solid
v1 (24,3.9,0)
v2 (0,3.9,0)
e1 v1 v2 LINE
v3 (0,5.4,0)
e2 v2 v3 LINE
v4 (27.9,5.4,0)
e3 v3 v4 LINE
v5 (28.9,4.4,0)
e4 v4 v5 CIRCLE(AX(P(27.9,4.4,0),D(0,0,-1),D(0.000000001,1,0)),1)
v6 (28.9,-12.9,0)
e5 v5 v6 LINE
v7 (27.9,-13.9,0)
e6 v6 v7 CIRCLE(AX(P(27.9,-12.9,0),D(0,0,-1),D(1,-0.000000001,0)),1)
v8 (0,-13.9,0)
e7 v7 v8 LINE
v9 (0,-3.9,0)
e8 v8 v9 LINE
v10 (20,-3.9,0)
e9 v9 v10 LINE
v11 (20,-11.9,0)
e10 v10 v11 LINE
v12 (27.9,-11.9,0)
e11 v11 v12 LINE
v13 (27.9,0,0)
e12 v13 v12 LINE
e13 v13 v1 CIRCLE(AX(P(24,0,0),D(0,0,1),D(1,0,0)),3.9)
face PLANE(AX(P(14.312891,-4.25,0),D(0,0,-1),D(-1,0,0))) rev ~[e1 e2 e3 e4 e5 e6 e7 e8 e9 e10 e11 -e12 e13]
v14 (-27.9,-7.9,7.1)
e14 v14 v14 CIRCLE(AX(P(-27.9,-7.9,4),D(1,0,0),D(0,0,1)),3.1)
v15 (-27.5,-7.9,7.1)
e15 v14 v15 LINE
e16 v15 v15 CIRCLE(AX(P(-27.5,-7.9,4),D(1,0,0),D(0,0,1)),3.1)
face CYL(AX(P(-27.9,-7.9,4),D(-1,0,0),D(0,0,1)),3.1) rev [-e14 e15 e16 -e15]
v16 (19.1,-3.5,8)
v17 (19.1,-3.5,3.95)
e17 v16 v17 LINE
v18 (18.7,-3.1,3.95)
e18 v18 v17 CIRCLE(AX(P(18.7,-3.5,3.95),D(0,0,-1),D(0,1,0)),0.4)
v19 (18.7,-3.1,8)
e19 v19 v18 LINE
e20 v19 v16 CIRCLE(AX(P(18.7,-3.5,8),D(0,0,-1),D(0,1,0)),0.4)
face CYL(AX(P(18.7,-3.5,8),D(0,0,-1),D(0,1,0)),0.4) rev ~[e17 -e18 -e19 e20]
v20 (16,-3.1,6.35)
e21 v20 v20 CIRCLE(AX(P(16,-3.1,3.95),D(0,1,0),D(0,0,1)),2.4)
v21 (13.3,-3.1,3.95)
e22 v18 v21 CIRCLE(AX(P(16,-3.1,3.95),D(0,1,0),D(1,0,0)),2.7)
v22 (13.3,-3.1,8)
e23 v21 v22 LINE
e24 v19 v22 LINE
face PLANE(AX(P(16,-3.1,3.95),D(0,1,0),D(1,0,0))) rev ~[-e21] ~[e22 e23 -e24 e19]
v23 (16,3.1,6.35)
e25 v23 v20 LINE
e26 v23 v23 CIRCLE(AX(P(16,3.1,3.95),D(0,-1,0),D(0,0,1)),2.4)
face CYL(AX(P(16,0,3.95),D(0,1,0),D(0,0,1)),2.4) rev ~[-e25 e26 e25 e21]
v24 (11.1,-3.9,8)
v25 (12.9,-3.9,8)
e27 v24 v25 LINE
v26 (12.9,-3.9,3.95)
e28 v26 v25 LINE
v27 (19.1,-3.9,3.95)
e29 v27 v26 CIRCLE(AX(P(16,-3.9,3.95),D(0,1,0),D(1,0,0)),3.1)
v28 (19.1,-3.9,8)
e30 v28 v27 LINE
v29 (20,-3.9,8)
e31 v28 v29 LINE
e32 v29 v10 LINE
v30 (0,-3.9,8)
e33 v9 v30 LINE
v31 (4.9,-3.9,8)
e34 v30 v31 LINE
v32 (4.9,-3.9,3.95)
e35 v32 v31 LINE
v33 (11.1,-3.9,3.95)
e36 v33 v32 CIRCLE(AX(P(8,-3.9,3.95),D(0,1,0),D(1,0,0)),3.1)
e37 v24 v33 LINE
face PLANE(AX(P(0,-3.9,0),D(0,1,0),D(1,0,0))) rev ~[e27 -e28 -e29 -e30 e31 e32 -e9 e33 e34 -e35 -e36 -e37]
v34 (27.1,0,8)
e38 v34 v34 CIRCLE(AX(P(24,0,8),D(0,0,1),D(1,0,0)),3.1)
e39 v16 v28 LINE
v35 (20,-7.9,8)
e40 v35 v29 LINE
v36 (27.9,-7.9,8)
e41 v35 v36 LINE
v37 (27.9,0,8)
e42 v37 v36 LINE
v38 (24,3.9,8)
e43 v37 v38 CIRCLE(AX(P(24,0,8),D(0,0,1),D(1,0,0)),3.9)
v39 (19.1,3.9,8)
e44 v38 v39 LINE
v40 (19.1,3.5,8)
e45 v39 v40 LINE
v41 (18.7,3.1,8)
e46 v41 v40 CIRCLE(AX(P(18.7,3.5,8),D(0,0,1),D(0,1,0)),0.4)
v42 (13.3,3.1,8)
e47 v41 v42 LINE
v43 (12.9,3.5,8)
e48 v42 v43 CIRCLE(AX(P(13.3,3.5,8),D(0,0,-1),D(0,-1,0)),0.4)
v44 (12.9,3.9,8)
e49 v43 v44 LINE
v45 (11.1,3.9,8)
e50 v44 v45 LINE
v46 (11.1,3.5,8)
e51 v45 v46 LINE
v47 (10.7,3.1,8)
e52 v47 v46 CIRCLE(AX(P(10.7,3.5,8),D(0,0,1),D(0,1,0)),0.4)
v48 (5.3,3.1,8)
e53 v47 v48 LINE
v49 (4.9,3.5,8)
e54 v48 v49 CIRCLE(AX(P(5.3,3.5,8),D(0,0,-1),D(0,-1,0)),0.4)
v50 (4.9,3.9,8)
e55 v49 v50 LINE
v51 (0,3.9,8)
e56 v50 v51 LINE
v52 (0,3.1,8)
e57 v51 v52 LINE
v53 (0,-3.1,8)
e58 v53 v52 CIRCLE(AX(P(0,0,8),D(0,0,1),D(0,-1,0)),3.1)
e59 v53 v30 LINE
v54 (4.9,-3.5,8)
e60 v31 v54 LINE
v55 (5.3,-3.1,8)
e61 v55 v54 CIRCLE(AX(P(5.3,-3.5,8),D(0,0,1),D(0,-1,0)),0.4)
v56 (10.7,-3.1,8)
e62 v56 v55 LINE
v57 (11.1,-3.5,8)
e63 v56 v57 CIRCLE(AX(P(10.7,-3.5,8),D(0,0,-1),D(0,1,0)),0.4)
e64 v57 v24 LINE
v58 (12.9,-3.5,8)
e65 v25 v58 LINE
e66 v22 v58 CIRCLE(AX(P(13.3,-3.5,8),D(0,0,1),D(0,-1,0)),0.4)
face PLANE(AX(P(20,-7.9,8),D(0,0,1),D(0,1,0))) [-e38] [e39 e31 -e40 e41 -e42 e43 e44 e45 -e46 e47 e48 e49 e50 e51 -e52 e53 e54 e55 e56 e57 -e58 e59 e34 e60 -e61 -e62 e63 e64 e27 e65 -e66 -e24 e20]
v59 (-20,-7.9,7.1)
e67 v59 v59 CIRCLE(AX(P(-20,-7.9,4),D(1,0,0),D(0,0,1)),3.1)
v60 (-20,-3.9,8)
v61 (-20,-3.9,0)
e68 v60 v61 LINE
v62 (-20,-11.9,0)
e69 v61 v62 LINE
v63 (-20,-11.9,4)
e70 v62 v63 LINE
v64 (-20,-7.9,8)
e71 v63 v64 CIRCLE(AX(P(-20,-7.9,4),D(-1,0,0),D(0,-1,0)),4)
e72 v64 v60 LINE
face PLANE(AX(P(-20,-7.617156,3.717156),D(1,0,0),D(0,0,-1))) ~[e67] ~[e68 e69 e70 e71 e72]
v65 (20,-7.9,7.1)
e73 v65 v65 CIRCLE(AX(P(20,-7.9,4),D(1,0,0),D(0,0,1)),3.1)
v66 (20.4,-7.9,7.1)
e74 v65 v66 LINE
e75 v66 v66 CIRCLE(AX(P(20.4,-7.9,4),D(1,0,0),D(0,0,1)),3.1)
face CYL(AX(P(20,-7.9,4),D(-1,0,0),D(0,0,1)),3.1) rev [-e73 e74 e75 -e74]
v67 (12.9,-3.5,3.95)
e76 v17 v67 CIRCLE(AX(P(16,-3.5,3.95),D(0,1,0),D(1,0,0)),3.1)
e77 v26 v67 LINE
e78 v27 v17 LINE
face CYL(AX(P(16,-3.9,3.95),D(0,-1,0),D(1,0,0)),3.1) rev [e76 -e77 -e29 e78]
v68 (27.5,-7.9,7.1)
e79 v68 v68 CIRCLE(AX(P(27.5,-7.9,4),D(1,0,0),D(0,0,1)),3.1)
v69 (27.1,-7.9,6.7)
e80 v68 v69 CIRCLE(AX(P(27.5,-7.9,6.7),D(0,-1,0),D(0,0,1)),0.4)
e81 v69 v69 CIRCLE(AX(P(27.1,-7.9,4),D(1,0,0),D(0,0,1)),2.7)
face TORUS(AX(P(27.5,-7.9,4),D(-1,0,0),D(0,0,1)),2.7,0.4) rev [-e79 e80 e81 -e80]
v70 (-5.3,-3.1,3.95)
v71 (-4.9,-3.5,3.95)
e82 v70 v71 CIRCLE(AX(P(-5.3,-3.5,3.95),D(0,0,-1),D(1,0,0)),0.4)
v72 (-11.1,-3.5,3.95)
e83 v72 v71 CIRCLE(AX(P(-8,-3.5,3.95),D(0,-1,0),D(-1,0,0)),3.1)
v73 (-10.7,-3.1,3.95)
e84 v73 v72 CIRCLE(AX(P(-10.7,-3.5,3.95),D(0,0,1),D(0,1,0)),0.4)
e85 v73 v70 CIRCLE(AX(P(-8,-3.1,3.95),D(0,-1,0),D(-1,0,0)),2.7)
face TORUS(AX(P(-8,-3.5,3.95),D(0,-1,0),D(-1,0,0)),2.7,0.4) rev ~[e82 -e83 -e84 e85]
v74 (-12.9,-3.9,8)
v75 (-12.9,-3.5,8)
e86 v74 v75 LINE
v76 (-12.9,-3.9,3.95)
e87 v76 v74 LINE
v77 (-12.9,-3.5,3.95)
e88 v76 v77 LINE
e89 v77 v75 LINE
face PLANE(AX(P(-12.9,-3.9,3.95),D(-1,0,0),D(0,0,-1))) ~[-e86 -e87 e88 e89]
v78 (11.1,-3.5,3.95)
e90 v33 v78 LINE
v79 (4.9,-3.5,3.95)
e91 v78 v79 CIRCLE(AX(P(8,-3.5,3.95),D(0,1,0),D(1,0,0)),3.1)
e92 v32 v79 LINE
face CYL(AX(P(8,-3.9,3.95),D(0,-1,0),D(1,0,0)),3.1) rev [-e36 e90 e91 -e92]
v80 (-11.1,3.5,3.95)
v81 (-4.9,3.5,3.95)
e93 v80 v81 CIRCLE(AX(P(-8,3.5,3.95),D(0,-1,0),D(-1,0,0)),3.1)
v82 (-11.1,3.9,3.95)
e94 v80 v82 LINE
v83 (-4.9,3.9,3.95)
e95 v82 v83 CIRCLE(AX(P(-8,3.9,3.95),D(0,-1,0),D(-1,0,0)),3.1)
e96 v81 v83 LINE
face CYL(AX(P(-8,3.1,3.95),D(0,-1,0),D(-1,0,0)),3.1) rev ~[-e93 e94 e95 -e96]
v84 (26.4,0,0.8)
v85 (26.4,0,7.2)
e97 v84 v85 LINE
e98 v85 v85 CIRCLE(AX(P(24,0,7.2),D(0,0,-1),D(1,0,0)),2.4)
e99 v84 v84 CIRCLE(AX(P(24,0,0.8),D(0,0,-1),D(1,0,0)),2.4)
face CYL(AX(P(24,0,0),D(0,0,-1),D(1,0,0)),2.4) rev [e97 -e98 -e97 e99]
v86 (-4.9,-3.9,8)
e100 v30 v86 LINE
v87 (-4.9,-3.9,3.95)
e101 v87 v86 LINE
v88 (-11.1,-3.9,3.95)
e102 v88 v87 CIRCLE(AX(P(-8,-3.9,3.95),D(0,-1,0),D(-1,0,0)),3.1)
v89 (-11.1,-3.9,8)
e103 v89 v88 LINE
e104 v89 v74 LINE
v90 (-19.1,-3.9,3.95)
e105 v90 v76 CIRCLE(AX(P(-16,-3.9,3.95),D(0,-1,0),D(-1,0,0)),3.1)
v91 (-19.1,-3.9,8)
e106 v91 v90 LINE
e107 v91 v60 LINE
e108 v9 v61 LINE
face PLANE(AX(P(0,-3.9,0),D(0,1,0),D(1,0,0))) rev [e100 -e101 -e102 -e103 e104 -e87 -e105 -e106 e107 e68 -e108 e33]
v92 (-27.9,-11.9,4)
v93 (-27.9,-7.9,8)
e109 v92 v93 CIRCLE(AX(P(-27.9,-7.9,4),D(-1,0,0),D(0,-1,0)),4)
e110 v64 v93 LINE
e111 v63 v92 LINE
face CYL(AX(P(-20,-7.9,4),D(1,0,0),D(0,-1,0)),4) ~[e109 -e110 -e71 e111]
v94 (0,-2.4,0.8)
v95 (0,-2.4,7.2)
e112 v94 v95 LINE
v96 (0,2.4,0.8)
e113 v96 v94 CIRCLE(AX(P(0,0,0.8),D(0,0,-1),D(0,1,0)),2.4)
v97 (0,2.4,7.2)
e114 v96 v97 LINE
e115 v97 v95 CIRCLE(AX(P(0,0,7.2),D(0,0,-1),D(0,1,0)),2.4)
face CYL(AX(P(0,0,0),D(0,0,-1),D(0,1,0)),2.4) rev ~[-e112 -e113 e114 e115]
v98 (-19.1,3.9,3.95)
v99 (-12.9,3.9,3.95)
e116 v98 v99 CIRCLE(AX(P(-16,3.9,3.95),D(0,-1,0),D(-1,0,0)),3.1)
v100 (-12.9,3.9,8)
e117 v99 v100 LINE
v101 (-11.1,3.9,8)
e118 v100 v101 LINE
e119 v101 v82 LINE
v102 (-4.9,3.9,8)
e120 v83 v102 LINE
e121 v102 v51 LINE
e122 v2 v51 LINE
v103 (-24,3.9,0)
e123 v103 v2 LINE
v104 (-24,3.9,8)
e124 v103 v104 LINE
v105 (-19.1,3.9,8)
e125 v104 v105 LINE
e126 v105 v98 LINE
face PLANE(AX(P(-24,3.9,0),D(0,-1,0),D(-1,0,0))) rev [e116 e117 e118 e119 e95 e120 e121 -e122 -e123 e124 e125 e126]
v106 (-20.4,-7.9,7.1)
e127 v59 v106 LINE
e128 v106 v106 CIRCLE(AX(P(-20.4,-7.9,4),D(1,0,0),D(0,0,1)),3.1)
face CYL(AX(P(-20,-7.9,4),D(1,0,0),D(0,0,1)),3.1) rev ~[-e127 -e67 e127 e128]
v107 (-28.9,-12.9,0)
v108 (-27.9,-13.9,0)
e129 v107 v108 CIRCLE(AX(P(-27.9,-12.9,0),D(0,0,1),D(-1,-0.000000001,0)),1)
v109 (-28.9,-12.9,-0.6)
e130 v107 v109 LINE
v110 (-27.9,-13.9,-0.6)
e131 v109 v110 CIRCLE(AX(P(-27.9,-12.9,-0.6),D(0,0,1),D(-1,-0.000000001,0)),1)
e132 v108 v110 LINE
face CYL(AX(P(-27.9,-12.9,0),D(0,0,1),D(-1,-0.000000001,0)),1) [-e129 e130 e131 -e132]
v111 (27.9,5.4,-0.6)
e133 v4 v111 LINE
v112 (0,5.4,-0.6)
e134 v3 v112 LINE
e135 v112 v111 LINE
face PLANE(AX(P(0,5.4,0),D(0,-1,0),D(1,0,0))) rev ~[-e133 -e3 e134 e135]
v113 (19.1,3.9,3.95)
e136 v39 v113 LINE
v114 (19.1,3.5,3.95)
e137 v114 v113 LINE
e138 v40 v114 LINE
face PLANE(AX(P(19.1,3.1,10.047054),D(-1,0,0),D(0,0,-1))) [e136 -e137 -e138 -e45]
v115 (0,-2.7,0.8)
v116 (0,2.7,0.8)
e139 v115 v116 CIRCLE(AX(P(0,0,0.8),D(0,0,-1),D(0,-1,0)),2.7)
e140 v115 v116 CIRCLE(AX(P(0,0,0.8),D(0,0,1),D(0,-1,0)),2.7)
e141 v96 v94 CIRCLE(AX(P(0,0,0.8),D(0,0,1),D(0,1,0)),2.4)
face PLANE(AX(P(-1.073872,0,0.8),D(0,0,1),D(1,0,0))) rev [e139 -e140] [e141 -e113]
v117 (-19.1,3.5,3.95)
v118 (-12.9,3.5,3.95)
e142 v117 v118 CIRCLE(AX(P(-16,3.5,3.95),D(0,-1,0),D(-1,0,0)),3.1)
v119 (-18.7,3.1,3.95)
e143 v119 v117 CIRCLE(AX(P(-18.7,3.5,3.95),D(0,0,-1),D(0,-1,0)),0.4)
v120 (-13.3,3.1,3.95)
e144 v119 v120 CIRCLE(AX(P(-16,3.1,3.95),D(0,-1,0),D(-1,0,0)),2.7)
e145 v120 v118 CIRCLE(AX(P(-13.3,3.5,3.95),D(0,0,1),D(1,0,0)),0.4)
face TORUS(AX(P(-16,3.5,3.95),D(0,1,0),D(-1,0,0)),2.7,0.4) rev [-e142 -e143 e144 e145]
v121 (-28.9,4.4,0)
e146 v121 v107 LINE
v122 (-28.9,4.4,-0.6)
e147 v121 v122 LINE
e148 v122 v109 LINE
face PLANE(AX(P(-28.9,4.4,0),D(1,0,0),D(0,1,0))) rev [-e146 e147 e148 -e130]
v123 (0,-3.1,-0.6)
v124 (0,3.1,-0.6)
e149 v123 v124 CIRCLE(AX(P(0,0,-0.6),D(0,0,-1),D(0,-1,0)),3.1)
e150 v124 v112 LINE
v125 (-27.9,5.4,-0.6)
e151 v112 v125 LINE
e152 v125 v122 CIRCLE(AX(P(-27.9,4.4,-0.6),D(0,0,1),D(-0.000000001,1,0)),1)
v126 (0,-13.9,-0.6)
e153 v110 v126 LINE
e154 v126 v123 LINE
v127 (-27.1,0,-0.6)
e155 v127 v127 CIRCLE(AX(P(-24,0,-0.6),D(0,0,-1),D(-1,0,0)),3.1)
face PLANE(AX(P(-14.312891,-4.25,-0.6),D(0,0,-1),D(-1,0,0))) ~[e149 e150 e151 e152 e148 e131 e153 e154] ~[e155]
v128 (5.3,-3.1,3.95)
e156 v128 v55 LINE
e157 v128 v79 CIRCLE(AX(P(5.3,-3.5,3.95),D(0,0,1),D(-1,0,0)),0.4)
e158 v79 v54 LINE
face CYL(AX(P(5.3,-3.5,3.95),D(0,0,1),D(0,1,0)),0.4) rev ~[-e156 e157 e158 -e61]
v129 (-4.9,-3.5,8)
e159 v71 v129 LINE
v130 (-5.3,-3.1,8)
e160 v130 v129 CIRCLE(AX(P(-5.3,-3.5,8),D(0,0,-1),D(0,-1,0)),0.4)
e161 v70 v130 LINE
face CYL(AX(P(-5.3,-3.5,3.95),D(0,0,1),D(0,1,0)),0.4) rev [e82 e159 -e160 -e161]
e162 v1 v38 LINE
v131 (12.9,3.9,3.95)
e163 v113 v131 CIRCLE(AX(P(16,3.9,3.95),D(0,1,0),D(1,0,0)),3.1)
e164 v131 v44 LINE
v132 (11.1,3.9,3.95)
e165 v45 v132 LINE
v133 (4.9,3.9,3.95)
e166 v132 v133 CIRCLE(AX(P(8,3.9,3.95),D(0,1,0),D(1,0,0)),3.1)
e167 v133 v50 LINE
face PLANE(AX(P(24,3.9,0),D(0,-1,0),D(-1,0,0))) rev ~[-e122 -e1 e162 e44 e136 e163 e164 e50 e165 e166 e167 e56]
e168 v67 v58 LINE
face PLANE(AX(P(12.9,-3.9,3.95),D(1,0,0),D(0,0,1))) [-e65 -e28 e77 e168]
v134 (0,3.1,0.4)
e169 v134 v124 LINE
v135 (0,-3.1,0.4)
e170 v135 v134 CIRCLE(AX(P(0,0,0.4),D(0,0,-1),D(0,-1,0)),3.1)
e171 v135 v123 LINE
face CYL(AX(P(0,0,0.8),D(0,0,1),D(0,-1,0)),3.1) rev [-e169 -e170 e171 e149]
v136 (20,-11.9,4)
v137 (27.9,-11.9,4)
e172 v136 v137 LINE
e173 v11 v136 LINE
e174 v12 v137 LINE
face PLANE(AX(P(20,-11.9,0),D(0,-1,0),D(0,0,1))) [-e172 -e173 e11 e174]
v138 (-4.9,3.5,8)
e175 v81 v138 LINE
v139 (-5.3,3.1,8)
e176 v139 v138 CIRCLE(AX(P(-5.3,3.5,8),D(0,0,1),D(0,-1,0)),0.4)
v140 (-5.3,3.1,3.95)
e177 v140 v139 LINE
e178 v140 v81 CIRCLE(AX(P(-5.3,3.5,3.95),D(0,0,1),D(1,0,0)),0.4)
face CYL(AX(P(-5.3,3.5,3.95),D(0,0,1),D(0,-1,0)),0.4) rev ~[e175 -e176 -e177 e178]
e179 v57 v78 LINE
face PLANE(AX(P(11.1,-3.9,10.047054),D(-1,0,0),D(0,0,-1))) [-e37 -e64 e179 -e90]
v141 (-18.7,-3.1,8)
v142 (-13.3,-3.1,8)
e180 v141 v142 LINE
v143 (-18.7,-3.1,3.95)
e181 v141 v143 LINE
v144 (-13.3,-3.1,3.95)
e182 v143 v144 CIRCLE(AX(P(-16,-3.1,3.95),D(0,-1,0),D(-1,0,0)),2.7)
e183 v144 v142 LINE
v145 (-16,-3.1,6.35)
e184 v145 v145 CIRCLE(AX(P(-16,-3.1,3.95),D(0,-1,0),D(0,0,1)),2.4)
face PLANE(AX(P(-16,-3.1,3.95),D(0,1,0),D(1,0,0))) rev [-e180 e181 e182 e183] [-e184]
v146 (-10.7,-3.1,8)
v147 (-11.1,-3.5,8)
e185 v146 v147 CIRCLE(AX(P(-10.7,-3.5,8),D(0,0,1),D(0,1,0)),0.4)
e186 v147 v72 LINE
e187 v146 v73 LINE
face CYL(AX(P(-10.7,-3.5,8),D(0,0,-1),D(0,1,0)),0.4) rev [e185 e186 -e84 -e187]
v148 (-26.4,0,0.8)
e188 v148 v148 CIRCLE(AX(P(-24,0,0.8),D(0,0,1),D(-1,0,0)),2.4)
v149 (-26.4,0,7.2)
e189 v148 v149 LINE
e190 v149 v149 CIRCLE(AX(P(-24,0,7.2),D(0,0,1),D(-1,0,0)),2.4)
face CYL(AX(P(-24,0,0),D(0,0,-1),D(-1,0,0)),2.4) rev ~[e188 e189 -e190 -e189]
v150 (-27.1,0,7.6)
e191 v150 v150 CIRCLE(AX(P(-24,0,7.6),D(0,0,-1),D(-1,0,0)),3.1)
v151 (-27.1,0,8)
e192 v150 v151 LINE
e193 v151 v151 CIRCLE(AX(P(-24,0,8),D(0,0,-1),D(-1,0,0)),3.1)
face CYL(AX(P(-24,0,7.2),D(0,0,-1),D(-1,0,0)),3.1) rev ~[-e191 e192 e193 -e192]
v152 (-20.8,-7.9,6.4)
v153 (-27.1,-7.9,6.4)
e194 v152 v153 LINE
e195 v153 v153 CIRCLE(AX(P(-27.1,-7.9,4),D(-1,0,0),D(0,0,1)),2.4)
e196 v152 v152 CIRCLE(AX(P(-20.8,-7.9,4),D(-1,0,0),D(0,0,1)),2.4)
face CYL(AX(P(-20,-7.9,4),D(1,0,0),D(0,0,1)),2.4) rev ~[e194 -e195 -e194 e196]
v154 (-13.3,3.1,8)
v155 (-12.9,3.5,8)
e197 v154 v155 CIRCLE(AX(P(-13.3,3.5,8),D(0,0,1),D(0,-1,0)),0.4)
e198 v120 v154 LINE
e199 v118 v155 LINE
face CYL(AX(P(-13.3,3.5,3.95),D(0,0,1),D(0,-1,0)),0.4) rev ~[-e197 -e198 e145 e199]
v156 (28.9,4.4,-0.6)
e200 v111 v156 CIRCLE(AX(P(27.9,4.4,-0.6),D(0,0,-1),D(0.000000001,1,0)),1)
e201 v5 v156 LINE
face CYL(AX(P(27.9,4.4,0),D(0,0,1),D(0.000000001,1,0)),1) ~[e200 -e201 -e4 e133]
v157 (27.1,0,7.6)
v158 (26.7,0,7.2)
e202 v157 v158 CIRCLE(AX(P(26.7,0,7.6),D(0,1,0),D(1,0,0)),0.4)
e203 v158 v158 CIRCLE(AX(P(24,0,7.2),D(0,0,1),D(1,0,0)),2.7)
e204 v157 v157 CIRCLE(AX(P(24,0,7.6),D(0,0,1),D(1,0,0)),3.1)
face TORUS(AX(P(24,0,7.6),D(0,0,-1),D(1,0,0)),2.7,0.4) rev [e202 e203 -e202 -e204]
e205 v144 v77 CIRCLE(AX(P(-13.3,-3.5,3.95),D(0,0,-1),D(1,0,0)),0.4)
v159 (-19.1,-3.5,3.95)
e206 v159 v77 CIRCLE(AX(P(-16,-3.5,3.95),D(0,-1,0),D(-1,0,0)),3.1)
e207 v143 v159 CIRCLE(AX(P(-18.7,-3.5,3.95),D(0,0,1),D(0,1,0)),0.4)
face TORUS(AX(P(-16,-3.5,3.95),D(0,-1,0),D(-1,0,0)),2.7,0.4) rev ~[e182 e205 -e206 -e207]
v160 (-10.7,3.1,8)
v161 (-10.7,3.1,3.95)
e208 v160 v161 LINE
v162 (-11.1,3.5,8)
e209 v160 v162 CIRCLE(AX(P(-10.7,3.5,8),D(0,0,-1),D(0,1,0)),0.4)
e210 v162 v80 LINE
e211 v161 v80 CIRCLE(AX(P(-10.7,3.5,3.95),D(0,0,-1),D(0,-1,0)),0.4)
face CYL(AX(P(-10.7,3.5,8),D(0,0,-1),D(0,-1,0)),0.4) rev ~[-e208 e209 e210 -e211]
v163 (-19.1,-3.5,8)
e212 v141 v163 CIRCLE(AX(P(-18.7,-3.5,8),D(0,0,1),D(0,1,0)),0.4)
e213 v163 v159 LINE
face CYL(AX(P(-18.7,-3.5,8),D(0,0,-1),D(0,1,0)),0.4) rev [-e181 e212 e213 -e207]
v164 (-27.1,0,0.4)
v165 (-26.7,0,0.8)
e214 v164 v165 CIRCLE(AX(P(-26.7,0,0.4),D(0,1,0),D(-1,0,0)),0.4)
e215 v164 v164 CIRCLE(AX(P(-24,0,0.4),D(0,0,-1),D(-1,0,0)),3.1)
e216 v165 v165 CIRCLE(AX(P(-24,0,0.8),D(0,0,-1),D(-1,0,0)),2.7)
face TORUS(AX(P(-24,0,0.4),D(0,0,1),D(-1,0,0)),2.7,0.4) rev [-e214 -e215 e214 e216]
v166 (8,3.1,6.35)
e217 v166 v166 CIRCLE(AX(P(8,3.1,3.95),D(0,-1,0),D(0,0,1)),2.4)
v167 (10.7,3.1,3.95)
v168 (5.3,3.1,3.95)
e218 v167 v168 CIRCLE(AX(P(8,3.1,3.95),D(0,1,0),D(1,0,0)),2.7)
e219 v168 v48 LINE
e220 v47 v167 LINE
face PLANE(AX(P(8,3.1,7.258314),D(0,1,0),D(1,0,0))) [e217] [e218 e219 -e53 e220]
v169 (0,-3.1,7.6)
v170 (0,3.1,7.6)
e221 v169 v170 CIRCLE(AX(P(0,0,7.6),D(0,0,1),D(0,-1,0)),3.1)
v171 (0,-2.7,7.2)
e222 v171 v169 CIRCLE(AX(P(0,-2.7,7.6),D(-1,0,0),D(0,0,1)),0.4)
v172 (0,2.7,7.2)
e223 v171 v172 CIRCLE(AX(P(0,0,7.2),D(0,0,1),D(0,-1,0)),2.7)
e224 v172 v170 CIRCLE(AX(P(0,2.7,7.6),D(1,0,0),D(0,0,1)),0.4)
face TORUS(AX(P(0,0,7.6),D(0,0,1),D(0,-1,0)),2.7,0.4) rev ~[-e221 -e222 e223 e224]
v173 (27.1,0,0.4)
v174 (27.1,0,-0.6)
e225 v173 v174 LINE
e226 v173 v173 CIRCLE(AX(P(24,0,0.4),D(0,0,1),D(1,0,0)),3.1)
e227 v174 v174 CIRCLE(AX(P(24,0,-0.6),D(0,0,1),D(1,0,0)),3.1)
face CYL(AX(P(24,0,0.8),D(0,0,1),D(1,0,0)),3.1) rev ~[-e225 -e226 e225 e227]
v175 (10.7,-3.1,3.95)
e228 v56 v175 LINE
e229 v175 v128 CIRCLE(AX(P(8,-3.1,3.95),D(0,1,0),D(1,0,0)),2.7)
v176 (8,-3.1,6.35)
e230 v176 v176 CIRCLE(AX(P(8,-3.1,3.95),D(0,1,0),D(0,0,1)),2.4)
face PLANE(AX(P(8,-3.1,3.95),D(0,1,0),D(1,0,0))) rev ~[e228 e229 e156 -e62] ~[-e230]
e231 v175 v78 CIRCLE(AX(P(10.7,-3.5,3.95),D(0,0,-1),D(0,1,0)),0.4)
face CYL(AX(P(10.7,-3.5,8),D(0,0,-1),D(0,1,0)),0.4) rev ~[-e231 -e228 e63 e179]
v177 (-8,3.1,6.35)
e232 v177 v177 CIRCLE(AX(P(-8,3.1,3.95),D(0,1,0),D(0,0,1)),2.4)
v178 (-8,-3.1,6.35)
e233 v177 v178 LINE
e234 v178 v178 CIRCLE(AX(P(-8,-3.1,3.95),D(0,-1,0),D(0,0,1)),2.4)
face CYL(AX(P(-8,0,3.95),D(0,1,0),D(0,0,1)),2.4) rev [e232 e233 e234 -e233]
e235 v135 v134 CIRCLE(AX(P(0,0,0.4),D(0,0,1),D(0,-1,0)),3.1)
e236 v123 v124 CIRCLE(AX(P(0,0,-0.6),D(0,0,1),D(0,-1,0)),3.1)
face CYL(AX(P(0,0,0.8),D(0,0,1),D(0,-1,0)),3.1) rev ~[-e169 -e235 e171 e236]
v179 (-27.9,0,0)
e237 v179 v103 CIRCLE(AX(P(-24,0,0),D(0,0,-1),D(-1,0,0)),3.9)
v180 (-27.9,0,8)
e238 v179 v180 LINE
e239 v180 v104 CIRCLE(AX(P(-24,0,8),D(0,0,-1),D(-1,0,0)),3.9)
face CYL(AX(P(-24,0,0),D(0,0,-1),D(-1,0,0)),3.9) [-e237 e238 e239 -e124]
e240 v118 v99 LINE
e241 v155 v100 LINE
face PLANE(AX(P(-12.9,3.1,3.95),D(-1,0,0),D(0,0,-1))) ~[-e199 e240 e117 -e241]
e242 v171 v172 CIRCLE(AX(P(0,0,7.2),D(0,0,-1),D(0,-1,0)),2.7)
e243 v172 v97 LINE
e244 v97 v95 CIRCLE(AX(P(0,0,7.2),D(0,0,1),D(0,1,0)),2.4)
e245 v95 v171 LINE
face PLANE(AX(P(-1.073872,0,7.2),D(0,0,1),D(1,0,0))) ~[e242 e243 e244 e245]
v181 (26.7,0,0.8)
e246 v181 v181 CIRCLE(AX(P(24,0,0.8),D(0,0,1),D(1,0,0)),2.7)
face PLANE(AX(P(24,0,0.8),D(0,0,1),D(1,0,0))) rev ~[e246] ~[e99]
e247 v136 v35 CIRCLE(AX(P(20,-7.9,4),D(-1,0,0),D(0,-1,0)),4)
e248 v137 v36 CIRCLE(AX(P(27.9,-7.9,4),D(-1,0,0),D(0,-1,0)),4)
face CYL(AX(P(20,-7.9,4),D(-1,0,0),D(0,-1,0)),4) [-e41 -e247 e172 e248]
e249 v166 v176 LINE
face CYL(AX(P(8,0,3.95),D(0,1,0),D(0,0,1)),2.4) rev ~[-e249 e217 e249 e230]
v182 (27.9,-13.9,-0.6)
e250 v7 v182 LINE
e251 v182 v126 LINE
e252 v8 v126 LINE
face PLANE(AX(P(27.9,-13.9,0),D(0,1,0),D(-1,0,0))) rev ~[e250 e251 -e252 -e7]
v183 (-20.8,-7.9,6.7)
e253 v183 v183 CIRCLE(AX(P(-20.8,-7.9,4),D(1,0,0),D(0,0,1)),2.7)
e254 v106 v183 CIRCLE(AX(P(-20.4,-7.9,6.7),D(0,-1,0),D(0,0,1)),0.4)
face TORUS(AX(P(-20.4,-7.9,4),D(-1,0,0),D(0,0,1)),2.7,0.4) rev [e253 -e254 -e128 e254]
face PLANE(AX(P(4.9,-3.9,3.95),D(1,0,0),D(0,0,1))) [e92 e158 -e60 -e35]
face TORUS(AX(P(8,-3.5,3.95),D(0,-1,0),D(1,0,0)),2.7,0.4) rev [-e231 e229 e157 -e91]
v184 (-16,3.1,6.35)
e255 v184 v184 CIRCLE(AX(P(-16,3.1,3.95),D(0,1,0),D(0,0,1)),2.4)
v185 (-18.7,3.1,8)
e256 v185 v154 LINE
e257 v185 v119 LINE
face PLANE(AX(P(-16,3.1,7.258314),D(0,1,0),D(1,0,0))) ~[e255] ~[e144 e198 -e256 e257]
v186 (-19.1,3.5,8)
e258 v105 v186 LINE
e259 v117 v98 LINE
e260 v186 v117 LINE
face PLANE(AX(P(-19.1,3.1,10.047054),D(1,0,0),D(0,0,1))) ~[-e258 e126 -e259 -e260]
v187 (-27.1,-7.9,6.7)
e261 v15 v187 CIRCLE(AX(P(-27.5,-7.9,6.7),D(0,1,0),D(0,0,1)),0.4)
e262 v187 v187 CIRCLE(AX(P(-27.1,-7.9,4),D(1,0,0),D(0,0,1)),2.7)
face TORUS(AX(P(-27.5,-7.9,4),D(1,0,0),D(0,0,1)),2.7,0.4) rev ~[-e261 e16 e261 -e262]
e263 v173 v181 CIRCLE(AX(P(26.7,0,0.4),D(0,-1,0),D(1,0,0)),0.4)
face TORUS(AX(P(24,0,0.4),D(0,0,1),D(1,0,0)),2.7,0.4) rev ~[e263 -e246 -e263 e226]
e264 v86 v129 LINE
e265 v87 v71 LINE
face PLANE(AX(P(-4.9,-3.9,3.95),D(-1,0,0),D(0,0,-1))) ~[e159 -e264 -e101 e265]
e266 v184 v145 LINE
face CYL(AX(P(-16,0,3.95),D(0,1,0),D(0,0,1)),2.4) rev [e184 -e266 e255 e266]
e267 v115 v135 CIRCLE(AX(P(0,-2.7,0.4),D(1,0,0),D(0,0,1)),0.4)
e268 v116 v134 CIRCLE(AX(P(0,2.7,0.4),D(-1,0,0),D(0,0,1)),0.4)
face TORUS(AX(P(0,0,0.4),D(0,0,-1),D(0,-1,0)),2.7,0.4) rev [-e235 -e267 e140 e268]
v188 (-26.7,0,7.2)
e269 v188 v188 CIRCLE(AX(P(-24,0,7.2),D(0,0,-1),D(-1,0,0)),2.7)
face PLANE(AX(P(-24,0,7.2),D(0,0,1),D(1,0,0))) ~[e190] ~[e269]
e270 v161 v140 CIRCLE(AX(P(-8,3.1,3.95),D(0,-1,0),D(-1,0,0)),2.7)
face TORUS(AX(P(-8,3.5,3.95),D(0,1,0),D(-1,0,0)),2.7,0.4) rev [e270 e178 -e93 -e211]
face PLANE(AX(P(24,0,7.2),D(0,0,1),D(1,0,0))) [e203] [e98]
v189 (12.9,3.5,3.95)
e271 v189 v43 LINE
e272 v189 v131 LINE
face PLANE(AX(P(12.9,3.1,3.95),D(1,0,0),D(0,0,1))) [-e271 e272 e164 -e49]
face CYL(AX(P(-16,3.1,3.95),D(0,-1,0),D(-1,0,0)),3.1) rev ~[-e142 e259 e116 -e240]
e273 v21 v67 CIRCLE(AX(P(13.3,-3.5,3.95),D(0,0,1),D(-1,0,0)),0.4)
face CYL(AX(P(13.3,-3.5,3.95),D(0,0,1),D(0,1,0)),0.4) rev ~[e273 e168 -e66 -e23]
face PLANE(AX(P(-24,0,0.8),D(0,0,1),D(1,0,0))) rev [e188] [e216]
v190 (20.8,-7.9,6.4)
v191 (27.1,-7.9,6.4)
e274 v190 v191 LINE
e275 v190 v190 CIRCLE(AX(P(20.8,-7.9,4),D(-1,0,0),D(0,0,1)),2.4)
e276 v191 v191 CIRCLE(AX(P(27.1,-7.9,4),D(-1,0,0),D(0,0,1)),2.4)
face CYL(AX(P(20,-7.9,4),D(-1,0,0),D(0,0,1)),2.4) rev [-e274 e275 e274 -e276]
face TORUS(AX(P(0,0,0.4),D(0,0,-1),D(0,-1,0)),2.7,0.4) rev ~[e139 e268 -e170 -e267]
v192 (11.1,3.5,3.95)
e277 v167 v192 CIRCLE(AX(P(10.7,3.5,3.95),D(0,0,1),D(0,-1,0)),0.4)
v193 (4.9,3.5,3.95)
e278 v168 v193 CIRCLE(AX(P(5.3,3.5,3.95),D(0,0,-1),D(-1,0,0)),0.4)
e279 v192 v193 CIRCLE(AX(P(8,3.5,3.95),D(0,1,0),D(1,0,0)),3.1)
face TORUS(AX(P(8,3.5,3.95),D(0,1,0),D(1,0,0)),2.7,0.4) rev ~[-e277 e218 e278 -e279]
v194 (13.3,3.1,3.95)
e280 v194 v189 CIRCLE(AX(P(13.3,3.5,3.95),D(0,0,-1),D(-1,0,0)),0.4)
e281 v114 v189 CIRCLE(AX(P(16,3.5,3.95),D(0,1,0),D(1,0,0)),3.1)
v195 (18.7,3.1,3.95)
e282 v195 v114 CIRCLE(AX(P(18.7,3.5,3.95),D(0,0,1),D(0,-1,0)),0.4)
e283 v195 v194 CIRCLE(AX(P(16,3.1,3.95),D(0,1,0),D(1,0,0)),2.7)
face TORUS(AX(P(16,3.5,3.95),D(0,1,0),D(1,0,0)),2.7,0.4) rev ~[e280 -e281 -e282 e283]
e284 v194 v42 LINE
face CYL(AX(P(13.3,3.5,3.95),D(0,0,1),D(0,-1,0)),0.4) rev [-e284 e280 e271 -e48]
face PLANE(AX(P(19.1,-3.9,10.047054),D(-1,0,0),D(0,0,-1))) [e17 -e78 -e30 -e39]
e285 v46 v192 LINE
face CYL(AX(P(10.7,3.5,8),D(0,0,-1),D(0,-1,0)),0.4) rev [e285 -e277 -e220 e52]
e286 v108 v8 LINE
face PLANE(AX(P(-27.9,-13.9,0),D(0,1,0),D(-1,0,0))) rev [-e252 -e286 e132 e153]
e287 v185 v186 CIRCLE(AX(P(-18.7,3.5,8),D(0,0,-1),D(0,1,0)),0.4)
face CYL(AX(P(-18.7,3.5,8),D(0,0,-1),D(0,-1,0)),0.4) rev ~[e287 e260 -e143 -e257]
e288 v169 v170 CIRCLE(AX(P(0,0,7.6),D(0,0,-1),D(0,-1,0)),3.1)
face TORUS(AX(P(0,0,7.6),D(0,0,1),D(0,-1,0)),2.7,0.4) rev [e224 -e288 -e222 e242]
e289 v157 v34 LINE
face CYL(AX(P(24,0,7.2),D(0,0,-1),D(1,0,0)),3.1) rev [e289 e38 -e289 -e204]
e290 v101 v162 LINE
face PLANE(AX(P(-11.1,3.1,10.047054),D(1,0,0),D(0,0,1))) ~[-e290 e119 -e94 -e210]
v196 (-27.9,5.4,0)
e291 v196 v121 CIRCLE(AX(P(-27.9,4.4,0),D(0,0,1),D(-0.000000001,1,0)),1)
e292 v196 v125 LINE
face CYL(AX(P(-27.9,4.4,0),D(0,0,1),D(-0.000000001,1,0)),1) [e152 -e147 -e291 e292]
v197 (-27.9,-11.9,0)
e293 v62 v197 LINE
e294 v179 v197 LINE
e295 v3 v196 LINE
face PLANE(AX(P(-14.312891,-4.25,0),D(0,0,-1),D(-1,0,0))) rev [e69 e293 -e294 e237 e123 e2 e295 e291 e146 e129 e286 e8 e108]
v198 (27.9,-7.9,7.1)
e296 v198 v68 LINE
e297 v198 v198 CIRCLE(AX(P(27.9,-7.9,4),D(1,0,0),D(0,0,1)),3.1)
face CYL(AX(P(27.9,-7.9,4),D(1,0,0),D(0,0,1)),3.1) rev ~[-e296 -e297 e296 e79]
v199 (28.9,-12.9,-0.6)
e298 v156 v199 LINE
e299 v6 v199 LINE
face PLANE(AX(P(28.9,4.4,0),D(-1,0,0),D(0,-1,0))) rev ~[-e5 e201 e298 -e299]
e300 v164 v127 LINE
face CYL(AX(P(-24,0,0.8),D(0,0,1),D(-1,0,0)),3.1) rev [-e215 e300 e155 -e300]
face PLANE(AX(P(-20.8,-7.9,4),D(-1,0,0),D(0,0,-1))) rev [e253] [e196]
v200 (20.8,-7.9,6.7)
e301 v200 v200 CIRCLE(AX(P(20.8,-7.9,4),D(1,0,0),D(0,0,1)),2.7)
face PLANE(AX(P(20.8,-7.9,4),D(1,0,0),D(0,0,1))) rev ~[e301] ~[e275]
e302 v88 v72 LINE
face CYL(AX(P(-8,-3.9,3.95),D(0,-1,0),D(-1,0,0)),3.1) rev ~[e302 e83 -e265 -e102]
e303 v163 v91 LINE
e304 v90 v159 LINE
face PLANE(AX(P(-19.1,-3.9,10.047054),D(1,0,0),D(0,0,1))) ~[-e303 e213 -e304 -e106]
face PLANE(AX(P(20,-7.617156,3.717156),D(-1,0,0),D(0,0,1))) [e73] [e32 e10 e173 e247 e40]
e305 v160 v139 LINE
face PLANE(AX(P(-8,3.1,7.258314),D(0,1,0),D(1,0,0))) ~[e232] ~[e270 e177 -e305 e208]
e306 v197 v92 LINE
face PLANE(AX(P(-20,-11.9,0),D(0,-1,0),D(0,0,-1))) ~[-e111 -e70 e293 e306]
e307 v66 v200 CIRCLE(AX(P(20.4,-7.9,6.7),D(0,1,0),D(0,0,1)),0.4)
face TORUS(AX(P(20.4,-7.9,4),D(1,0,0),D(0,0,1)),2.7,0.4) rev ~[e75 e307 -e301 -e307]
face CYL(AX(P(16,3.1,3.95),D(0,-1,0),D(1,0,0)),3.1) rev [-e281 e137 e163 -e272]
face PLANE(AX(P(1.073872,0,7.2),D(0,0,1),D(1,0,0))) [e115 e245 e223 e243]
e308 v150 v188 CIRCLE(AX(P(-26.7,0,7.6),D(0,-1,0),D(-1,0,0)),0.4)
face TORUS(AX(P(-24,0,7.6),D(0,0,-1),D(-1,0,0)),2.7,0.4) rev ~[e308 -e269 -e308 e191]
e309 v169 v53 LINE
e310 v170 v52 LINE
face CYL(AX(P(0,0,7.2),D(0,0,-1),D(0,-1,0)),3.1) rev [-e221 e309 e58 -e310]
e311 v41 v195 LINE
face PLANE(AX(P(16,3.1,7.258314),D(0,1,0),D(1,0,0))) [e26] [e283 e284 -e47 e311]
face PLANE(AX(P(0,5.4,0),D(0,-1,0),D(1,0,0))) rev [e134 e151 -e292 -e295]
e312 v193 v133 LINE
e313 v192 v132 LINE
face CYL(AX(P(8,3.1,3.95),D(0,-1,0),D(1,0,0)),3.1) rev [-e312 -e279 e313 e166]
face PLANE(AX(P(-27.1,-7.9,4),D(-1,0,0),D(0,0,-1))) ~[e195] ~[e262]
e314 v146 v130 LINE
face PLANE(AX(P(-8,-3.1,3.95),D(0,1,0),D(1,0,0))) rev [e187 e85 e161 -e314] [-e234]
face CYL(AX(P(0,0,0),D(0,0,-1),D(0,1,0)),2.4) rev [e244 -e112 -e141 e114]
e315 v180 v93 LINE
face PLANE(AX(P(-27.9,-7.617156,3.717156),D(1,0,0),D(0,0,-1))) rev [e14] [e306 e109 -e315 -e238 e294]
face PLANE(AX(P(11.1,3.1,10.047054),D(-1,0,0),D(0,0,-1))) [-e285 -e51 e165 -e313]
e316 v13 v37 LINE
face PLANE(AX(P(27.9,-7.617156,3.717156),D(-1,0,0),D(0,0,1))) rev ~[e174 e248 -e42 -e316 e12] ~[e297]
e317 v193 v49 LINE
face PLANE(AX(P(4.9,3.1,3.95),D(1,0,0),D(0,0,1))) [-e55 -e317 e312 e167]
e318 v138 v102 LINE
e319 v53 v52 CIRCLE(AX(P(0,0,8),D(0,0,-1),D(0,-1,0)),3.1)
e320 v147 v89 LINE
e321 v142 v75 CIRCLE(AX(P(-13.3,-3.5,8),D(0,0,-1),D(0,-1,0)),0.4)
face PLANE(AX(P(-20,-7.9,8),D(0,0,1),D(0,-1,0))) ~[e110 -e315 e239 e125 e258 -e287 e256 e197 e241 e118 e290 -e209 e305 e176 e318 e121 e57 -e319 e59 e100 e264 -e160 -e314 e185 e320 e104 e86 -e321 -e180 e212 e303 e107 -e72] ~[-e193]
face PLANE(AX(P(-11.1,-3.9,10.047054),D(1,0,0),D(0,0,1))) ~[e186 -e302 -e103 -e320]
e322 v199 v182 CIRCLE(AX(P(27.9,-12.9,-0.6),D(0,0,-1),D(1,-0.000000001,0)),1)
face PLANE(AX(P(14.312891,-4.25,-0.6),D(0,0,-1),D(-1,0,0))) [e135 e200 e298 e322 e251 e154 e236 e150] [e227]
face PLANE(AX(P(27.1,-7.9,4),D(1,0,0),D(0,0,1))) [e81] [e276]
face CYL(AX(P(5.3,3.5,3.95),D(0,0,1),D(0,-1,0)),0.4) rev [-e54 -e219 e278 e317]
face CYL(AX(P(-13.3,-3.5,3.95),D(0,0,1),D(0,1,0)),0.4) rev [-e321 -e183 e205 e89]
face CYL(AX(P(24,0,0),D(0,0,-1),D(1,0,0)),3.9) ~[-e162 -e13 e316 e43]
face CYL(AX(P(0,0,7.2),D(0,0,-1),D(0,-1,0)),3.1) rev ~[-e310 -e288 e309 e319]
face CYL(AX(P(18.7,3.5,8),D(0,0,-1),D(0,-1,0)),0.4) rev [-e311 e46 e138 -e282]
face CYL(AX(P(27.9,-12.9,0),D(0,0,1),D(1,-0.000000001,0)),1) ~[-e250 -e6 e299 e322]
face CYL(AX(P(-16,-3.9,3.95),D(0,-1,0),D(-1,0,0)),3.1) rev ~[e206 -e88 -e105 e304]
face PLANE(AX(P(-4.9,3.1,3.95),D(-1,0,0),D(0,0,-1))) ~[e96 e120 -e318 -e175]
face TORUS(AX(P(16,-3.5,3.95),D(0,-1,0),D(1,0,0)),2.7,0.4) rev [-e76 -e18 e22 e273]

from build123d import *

# Parameters (mm, degrees)
SKETCH1_R               = 2.4
BOSS_EXTRUDE1_DEPTH     = 8
BOSS_EXTRUDE2_START     = 20
SKETCH2_R               = 2.4
BOSS_EXTRUDE2_DEPTH     = 7.9
BOSS_EXTRUDE3_DEPTH     = 0.6
SKETCH4_R               = 2.4
CUT_EXTRUDE1_DEPTH      = 34.051777562
CUT_EXTRUDE1_DEPTH_BACK = 34.051777562
CUT_EXTRUDE2_START      = 3.1
SKETCH5_R               = 3.1
CUT_EXTRUDE2_DEPTH      = 0.8
CUT_EXTRUDE3_START      = -3.9
SKETCH5_3_R             = 3.1
CUT_EXTRUDE3_DEPTH      = 0.8
CUT_EXTRUDE4_START      = 27.9
SKETCH6_R               = 3.1
CUT_EXTRUDE4_DEPTH      = 0.8
CUT_EXTRUDE5_START      = 20
SKETCH6_2_R             = 3.1
CUT_EXTRUDE5_DEPTH      = 0.8
CUT_EXTRUDE6_START      = 0.8
SKETCH7_R               = 3.1
CUT_EXTRUDE6_DEPTH      = 34.851777562
CUT_EXTRUDE7_START      = 7.2
SKETCH7_2_R             = 3.1
CUT_EXTRUDE7_DEPTH      = 0.8
FILLET1_R               = 0.4


with BuildPart() as part:
    # Sketch1 → Boss-Extrude1 (new body)
    with BuildSketch(Plane.XY):
        with BuildLine():
            Line((0, 3.9), (0, 2.4))
            ThreePointArc((0, 2.4), (2.4, 0), (0, -2.4))
            Line((0, -2.4), (0, -3.9))
            Line((0, -3.9), (24, -3.9))
            Line((24, -3.9), (27.9, -3.9))
            Line((27.9, -3.9), (27.9, 0))
            ThreePointArc((27.9, 0), (26.757716447, 2.757716447), (24, 3.9))
            Line((24, 3.9), (0, 3.9))
        make_face()
        with Locations((24, 0)):
            Circle(SKETCH1_R, mode=Mode.SUBTRACT)
    extrude(amount=BOSS_EXTRUDE1_DEPTH)

    # Sketch2 → Boss-Extrude2 (add)
    with BuildSketch(Plane(origin=(0, 0, 0), x_dir=(0, 0, -1), z_dir=(1, 0, 0)).offset(BOSS_EXTRUDE2_START)):
        with BuildLine():
            Line((0, -3.9), (0, -11.9))
            Line((0, -11.9), (-4, -11.9))
            ThreePointArc((-4, -11.9), (-6.828427125, -10.728427125), (-8, -7.9))
            Line((-8, -7.9), (-8, -3.9))
            Line((-8, -3.9), (0, -3.9))
        make_face()
        with Locations(Location((-4, -7.9, 0), (0, 0, 180))):
            Circle(SKETCH2_R, mode=Mode.SUBTRACT)
    extrude(amount=BOSS_EXTRUDE2_DEPTH)

    # Sketch3 → Boss-Extrude3 (add)
    with BuildSketch(Plane.XY):
        with BuildLine():
            Line((0, 5.4), (27.9, 5.4))
            ThreePointArc((27.9, 5.4), (28.607106781, 5.107106781), (28.9, 4.4))
            Line((28.9, 4.4), (28.9, -12.9))
            ThreePointArc((28.9, -12.9), (28.607106781, -13.607106781), (27.9, -13.9))
            Line((27.9, -13.9), (0, -13.9))
            Line((0, -13.9), (0, 5.4))
        make_face()
    extrude(amount=-BOSS_EXTRUDE3_DEPTH)

    # Sketch4 → Cut-Extrude1 (cut, two sides)
    with BuildSketch(Plane(origin=(0, 0, 0), x_dir=(1, 0, 0), z_dir=(0, 1, 0))) as cut_extrude1_sk:
        with Locations(Location((8, -3.95, 0), (0, 0, 270))):
            Circle(SKETCH4_R)
        with Locations(Location((16, -3.95, 0), (0, 0, 270))):
            Circle(SKETCH4_R)
    extrude(amount=CUT_EXTRUDE1_DEPTH, mode=Mode.SUBTRACT)
    extrude(cut_extrude1_sk.sketch, amount=-CUT_EXTRUDE1_DEPTH_BACK, mode=Mode.SUBTRACT)

    # Sketch5 → Cut-Extrude2 (cut)
    with BuildSketch(Plane(origin=(0, 0, 0), x_dir=(1, 0, 0), z_dir=(0, 1, 0)).offset(CUT_EXTRUDE2_START)):
        with BuildLine():
            ThreePointArc((11.1, -3.95), (8, -7.05), (4.9, -3.95))
            Line((4.9, -3.95), (4.9, -10.047053603))
            Line((4.9, -10.047053603), (11.1, -10.047053603))
            Line((11.1, -10.047053603), (11.1, -3.95))
        make_face()
        with Locations((8, -3.95)):
            Circle(SKETCH5_R)
        with BuildLine():
            ThreePointArc((19.1, -3.95), (16, -7.05), (12.9, -3.95))
            Line((12.9, -3.95), (12.9, -10.047053603))
            Line((12.9, -10.047053603), (19.1, -10.047053603))
            Line((19.1, -10.047053603), (19.1, -3.95))
        make_face()
        with Locations((16, -3.95)):
            Circle(SKETCH5_R)
    extrude(amount=CUT_EXTRUDE2_DEPTH, mode=Mode.SUBTRACT)

    # Sketch5<3> → Cut-Extrude3 (cut)
    with BuildSketch(Plane(origin=(0, 0, 0), x_dir=(1, 0, 0), z_dir=(0, 1, 0)).offset(CUT_EXTRUDE3_START)):
        with Locations((8, -3.95)):
            Circle(SKETCH5_3_R)
        with BuildLine():
            ThreePointArc((11.1, -3.95), (8, -7.05), (4.9, -3.95))
            Line((4.9, -3.95), (4.9, -10.047053603))
            Line((4.9, -10.047053603), (11.1, -10.047053603))
            Line((11.1, -10.047053603), (11.1, -3.95))
        make_face()
        with Locations((16, -3.95)):
            Circle(SKETCH5_3_R)
        with BuildLine():
            ThreePointArc((19.1, -3.95), (16, -7.05), (12.9, -3.95))
            Line((12.9, -3.95), (12.9, -10.047053603))
            Line((12.9, -10.047053603), (19.1, -10.047053603))
            Line((19.1, -10.047053603), (19.1, -3.95))
        make_face()
    extrude(amount=CUT_EXTRUDE3_DEPTH, mode=Mode.SUBTRACT)

    # Sketch6 → Cut-Extrude4 (cut)
    with BuildSketch(Plane(origin=(0, 0, 0), x_dir=(0, 0, -1), z_dir=(1, 0, 0)).offset(CUT_EXTRUDE4_START)):
        with Locations(Location((-4, -7.9, 0), (0, 0, 180))):
            Circle(SKETCH6_R)
    extrude(amount=-CUT_EXTRUDE4_DEPTH, mode=Mode.SUBTRACT)

    # Sketch6<2> → Cut-Extrude5 (cut)
    with BuildSketch(Plane(origin=(0, 0, 0), x_dir=(0, 0, -1), z_dir=(1, 0, 0)).offset(CUT_EXTRUDE5_START)):
        with Locations(Location((-4, -7.9, 0), (0, 0, 180))):
            Circle(SKETCH6_2_R)
    extrude(amount=CUT_EXTRUDE5_DEPTH, mode=Mode.SUBTRACT)

    # Sketch7 → Cut-Extrude6 (cut, through all)
    with BuildSketch(Plane.XY.offset(CUT_EXTRUDE6_START)):
        with Locations((24, 0)):
            Circle(SKETCH7_R)
        with BuildLine():
            Line((0, 3.1), (0, -3.1))
            ThreePointArc((0, -3.1), (3.1, 0), (0, 3.1))
        make_face()
    extrude(amount=-CUT_EXTRUDE6_DEPTH, mode=Mode.SUBTRACT)

    # Sketch7<2> → Cut-Extrude7 (cut)
    with BuildSketch(Plane.XY.offset(CUT_EXTRUDE7_START)):
        with Locations((24, 0)):
            Circle(SKETCH7_2_R)
        with BuildLine():
            Line((0, 3.1), (0, -3.1))
            ThreePointArc((0, -3.1), (3.1, 0), (0, 3.1))
        make_face()
    extrude(amount=CUT_EXTRUDE7_DEPTH, mode=Mode.SUBTRACT)

    # Fillet1
    fillet1_edges = [part.edges().sort_by_distance(p)[0] for p in [
        (16, 3.1, 0.85),
        (4.9, -3.1, 5.975),
        (11.1, -3.1, 5.975),
        (8, -3.1, 0.85),
        (12.9, -3.1, 5.975),
        (19.1, -3.1, 5.975),
        (16, -3.1, 0.85),
        (27.1, -7.9, 0.9),
        (20.8, -7.9, 0.9),
        (20.9, 0, 0.8),
        (3.1, 0, 0.8),
        (20.9, 0, 7.2),
        (3.1, 0, 7.2),
        (11.1, 3.1, 5.975),
        (4.9, 3.1, 5.975),
        (8, 3.1, 0.85),
        (19.1, 3.1, 5.975),
        (12.9, 3.1, 5.975),
    ]]
    fillet(fillet1_edges, radius=FILLET1_R)

    # Mirror1: part across plane


with BuildPart() as part_1:
    add(part.part)
    add(part.part.mirror(Plane(origin=(0, 0, 0), x_dir=(0, 0, 1), z_dir=(1, 0, 0))))


solid = part_1.part
